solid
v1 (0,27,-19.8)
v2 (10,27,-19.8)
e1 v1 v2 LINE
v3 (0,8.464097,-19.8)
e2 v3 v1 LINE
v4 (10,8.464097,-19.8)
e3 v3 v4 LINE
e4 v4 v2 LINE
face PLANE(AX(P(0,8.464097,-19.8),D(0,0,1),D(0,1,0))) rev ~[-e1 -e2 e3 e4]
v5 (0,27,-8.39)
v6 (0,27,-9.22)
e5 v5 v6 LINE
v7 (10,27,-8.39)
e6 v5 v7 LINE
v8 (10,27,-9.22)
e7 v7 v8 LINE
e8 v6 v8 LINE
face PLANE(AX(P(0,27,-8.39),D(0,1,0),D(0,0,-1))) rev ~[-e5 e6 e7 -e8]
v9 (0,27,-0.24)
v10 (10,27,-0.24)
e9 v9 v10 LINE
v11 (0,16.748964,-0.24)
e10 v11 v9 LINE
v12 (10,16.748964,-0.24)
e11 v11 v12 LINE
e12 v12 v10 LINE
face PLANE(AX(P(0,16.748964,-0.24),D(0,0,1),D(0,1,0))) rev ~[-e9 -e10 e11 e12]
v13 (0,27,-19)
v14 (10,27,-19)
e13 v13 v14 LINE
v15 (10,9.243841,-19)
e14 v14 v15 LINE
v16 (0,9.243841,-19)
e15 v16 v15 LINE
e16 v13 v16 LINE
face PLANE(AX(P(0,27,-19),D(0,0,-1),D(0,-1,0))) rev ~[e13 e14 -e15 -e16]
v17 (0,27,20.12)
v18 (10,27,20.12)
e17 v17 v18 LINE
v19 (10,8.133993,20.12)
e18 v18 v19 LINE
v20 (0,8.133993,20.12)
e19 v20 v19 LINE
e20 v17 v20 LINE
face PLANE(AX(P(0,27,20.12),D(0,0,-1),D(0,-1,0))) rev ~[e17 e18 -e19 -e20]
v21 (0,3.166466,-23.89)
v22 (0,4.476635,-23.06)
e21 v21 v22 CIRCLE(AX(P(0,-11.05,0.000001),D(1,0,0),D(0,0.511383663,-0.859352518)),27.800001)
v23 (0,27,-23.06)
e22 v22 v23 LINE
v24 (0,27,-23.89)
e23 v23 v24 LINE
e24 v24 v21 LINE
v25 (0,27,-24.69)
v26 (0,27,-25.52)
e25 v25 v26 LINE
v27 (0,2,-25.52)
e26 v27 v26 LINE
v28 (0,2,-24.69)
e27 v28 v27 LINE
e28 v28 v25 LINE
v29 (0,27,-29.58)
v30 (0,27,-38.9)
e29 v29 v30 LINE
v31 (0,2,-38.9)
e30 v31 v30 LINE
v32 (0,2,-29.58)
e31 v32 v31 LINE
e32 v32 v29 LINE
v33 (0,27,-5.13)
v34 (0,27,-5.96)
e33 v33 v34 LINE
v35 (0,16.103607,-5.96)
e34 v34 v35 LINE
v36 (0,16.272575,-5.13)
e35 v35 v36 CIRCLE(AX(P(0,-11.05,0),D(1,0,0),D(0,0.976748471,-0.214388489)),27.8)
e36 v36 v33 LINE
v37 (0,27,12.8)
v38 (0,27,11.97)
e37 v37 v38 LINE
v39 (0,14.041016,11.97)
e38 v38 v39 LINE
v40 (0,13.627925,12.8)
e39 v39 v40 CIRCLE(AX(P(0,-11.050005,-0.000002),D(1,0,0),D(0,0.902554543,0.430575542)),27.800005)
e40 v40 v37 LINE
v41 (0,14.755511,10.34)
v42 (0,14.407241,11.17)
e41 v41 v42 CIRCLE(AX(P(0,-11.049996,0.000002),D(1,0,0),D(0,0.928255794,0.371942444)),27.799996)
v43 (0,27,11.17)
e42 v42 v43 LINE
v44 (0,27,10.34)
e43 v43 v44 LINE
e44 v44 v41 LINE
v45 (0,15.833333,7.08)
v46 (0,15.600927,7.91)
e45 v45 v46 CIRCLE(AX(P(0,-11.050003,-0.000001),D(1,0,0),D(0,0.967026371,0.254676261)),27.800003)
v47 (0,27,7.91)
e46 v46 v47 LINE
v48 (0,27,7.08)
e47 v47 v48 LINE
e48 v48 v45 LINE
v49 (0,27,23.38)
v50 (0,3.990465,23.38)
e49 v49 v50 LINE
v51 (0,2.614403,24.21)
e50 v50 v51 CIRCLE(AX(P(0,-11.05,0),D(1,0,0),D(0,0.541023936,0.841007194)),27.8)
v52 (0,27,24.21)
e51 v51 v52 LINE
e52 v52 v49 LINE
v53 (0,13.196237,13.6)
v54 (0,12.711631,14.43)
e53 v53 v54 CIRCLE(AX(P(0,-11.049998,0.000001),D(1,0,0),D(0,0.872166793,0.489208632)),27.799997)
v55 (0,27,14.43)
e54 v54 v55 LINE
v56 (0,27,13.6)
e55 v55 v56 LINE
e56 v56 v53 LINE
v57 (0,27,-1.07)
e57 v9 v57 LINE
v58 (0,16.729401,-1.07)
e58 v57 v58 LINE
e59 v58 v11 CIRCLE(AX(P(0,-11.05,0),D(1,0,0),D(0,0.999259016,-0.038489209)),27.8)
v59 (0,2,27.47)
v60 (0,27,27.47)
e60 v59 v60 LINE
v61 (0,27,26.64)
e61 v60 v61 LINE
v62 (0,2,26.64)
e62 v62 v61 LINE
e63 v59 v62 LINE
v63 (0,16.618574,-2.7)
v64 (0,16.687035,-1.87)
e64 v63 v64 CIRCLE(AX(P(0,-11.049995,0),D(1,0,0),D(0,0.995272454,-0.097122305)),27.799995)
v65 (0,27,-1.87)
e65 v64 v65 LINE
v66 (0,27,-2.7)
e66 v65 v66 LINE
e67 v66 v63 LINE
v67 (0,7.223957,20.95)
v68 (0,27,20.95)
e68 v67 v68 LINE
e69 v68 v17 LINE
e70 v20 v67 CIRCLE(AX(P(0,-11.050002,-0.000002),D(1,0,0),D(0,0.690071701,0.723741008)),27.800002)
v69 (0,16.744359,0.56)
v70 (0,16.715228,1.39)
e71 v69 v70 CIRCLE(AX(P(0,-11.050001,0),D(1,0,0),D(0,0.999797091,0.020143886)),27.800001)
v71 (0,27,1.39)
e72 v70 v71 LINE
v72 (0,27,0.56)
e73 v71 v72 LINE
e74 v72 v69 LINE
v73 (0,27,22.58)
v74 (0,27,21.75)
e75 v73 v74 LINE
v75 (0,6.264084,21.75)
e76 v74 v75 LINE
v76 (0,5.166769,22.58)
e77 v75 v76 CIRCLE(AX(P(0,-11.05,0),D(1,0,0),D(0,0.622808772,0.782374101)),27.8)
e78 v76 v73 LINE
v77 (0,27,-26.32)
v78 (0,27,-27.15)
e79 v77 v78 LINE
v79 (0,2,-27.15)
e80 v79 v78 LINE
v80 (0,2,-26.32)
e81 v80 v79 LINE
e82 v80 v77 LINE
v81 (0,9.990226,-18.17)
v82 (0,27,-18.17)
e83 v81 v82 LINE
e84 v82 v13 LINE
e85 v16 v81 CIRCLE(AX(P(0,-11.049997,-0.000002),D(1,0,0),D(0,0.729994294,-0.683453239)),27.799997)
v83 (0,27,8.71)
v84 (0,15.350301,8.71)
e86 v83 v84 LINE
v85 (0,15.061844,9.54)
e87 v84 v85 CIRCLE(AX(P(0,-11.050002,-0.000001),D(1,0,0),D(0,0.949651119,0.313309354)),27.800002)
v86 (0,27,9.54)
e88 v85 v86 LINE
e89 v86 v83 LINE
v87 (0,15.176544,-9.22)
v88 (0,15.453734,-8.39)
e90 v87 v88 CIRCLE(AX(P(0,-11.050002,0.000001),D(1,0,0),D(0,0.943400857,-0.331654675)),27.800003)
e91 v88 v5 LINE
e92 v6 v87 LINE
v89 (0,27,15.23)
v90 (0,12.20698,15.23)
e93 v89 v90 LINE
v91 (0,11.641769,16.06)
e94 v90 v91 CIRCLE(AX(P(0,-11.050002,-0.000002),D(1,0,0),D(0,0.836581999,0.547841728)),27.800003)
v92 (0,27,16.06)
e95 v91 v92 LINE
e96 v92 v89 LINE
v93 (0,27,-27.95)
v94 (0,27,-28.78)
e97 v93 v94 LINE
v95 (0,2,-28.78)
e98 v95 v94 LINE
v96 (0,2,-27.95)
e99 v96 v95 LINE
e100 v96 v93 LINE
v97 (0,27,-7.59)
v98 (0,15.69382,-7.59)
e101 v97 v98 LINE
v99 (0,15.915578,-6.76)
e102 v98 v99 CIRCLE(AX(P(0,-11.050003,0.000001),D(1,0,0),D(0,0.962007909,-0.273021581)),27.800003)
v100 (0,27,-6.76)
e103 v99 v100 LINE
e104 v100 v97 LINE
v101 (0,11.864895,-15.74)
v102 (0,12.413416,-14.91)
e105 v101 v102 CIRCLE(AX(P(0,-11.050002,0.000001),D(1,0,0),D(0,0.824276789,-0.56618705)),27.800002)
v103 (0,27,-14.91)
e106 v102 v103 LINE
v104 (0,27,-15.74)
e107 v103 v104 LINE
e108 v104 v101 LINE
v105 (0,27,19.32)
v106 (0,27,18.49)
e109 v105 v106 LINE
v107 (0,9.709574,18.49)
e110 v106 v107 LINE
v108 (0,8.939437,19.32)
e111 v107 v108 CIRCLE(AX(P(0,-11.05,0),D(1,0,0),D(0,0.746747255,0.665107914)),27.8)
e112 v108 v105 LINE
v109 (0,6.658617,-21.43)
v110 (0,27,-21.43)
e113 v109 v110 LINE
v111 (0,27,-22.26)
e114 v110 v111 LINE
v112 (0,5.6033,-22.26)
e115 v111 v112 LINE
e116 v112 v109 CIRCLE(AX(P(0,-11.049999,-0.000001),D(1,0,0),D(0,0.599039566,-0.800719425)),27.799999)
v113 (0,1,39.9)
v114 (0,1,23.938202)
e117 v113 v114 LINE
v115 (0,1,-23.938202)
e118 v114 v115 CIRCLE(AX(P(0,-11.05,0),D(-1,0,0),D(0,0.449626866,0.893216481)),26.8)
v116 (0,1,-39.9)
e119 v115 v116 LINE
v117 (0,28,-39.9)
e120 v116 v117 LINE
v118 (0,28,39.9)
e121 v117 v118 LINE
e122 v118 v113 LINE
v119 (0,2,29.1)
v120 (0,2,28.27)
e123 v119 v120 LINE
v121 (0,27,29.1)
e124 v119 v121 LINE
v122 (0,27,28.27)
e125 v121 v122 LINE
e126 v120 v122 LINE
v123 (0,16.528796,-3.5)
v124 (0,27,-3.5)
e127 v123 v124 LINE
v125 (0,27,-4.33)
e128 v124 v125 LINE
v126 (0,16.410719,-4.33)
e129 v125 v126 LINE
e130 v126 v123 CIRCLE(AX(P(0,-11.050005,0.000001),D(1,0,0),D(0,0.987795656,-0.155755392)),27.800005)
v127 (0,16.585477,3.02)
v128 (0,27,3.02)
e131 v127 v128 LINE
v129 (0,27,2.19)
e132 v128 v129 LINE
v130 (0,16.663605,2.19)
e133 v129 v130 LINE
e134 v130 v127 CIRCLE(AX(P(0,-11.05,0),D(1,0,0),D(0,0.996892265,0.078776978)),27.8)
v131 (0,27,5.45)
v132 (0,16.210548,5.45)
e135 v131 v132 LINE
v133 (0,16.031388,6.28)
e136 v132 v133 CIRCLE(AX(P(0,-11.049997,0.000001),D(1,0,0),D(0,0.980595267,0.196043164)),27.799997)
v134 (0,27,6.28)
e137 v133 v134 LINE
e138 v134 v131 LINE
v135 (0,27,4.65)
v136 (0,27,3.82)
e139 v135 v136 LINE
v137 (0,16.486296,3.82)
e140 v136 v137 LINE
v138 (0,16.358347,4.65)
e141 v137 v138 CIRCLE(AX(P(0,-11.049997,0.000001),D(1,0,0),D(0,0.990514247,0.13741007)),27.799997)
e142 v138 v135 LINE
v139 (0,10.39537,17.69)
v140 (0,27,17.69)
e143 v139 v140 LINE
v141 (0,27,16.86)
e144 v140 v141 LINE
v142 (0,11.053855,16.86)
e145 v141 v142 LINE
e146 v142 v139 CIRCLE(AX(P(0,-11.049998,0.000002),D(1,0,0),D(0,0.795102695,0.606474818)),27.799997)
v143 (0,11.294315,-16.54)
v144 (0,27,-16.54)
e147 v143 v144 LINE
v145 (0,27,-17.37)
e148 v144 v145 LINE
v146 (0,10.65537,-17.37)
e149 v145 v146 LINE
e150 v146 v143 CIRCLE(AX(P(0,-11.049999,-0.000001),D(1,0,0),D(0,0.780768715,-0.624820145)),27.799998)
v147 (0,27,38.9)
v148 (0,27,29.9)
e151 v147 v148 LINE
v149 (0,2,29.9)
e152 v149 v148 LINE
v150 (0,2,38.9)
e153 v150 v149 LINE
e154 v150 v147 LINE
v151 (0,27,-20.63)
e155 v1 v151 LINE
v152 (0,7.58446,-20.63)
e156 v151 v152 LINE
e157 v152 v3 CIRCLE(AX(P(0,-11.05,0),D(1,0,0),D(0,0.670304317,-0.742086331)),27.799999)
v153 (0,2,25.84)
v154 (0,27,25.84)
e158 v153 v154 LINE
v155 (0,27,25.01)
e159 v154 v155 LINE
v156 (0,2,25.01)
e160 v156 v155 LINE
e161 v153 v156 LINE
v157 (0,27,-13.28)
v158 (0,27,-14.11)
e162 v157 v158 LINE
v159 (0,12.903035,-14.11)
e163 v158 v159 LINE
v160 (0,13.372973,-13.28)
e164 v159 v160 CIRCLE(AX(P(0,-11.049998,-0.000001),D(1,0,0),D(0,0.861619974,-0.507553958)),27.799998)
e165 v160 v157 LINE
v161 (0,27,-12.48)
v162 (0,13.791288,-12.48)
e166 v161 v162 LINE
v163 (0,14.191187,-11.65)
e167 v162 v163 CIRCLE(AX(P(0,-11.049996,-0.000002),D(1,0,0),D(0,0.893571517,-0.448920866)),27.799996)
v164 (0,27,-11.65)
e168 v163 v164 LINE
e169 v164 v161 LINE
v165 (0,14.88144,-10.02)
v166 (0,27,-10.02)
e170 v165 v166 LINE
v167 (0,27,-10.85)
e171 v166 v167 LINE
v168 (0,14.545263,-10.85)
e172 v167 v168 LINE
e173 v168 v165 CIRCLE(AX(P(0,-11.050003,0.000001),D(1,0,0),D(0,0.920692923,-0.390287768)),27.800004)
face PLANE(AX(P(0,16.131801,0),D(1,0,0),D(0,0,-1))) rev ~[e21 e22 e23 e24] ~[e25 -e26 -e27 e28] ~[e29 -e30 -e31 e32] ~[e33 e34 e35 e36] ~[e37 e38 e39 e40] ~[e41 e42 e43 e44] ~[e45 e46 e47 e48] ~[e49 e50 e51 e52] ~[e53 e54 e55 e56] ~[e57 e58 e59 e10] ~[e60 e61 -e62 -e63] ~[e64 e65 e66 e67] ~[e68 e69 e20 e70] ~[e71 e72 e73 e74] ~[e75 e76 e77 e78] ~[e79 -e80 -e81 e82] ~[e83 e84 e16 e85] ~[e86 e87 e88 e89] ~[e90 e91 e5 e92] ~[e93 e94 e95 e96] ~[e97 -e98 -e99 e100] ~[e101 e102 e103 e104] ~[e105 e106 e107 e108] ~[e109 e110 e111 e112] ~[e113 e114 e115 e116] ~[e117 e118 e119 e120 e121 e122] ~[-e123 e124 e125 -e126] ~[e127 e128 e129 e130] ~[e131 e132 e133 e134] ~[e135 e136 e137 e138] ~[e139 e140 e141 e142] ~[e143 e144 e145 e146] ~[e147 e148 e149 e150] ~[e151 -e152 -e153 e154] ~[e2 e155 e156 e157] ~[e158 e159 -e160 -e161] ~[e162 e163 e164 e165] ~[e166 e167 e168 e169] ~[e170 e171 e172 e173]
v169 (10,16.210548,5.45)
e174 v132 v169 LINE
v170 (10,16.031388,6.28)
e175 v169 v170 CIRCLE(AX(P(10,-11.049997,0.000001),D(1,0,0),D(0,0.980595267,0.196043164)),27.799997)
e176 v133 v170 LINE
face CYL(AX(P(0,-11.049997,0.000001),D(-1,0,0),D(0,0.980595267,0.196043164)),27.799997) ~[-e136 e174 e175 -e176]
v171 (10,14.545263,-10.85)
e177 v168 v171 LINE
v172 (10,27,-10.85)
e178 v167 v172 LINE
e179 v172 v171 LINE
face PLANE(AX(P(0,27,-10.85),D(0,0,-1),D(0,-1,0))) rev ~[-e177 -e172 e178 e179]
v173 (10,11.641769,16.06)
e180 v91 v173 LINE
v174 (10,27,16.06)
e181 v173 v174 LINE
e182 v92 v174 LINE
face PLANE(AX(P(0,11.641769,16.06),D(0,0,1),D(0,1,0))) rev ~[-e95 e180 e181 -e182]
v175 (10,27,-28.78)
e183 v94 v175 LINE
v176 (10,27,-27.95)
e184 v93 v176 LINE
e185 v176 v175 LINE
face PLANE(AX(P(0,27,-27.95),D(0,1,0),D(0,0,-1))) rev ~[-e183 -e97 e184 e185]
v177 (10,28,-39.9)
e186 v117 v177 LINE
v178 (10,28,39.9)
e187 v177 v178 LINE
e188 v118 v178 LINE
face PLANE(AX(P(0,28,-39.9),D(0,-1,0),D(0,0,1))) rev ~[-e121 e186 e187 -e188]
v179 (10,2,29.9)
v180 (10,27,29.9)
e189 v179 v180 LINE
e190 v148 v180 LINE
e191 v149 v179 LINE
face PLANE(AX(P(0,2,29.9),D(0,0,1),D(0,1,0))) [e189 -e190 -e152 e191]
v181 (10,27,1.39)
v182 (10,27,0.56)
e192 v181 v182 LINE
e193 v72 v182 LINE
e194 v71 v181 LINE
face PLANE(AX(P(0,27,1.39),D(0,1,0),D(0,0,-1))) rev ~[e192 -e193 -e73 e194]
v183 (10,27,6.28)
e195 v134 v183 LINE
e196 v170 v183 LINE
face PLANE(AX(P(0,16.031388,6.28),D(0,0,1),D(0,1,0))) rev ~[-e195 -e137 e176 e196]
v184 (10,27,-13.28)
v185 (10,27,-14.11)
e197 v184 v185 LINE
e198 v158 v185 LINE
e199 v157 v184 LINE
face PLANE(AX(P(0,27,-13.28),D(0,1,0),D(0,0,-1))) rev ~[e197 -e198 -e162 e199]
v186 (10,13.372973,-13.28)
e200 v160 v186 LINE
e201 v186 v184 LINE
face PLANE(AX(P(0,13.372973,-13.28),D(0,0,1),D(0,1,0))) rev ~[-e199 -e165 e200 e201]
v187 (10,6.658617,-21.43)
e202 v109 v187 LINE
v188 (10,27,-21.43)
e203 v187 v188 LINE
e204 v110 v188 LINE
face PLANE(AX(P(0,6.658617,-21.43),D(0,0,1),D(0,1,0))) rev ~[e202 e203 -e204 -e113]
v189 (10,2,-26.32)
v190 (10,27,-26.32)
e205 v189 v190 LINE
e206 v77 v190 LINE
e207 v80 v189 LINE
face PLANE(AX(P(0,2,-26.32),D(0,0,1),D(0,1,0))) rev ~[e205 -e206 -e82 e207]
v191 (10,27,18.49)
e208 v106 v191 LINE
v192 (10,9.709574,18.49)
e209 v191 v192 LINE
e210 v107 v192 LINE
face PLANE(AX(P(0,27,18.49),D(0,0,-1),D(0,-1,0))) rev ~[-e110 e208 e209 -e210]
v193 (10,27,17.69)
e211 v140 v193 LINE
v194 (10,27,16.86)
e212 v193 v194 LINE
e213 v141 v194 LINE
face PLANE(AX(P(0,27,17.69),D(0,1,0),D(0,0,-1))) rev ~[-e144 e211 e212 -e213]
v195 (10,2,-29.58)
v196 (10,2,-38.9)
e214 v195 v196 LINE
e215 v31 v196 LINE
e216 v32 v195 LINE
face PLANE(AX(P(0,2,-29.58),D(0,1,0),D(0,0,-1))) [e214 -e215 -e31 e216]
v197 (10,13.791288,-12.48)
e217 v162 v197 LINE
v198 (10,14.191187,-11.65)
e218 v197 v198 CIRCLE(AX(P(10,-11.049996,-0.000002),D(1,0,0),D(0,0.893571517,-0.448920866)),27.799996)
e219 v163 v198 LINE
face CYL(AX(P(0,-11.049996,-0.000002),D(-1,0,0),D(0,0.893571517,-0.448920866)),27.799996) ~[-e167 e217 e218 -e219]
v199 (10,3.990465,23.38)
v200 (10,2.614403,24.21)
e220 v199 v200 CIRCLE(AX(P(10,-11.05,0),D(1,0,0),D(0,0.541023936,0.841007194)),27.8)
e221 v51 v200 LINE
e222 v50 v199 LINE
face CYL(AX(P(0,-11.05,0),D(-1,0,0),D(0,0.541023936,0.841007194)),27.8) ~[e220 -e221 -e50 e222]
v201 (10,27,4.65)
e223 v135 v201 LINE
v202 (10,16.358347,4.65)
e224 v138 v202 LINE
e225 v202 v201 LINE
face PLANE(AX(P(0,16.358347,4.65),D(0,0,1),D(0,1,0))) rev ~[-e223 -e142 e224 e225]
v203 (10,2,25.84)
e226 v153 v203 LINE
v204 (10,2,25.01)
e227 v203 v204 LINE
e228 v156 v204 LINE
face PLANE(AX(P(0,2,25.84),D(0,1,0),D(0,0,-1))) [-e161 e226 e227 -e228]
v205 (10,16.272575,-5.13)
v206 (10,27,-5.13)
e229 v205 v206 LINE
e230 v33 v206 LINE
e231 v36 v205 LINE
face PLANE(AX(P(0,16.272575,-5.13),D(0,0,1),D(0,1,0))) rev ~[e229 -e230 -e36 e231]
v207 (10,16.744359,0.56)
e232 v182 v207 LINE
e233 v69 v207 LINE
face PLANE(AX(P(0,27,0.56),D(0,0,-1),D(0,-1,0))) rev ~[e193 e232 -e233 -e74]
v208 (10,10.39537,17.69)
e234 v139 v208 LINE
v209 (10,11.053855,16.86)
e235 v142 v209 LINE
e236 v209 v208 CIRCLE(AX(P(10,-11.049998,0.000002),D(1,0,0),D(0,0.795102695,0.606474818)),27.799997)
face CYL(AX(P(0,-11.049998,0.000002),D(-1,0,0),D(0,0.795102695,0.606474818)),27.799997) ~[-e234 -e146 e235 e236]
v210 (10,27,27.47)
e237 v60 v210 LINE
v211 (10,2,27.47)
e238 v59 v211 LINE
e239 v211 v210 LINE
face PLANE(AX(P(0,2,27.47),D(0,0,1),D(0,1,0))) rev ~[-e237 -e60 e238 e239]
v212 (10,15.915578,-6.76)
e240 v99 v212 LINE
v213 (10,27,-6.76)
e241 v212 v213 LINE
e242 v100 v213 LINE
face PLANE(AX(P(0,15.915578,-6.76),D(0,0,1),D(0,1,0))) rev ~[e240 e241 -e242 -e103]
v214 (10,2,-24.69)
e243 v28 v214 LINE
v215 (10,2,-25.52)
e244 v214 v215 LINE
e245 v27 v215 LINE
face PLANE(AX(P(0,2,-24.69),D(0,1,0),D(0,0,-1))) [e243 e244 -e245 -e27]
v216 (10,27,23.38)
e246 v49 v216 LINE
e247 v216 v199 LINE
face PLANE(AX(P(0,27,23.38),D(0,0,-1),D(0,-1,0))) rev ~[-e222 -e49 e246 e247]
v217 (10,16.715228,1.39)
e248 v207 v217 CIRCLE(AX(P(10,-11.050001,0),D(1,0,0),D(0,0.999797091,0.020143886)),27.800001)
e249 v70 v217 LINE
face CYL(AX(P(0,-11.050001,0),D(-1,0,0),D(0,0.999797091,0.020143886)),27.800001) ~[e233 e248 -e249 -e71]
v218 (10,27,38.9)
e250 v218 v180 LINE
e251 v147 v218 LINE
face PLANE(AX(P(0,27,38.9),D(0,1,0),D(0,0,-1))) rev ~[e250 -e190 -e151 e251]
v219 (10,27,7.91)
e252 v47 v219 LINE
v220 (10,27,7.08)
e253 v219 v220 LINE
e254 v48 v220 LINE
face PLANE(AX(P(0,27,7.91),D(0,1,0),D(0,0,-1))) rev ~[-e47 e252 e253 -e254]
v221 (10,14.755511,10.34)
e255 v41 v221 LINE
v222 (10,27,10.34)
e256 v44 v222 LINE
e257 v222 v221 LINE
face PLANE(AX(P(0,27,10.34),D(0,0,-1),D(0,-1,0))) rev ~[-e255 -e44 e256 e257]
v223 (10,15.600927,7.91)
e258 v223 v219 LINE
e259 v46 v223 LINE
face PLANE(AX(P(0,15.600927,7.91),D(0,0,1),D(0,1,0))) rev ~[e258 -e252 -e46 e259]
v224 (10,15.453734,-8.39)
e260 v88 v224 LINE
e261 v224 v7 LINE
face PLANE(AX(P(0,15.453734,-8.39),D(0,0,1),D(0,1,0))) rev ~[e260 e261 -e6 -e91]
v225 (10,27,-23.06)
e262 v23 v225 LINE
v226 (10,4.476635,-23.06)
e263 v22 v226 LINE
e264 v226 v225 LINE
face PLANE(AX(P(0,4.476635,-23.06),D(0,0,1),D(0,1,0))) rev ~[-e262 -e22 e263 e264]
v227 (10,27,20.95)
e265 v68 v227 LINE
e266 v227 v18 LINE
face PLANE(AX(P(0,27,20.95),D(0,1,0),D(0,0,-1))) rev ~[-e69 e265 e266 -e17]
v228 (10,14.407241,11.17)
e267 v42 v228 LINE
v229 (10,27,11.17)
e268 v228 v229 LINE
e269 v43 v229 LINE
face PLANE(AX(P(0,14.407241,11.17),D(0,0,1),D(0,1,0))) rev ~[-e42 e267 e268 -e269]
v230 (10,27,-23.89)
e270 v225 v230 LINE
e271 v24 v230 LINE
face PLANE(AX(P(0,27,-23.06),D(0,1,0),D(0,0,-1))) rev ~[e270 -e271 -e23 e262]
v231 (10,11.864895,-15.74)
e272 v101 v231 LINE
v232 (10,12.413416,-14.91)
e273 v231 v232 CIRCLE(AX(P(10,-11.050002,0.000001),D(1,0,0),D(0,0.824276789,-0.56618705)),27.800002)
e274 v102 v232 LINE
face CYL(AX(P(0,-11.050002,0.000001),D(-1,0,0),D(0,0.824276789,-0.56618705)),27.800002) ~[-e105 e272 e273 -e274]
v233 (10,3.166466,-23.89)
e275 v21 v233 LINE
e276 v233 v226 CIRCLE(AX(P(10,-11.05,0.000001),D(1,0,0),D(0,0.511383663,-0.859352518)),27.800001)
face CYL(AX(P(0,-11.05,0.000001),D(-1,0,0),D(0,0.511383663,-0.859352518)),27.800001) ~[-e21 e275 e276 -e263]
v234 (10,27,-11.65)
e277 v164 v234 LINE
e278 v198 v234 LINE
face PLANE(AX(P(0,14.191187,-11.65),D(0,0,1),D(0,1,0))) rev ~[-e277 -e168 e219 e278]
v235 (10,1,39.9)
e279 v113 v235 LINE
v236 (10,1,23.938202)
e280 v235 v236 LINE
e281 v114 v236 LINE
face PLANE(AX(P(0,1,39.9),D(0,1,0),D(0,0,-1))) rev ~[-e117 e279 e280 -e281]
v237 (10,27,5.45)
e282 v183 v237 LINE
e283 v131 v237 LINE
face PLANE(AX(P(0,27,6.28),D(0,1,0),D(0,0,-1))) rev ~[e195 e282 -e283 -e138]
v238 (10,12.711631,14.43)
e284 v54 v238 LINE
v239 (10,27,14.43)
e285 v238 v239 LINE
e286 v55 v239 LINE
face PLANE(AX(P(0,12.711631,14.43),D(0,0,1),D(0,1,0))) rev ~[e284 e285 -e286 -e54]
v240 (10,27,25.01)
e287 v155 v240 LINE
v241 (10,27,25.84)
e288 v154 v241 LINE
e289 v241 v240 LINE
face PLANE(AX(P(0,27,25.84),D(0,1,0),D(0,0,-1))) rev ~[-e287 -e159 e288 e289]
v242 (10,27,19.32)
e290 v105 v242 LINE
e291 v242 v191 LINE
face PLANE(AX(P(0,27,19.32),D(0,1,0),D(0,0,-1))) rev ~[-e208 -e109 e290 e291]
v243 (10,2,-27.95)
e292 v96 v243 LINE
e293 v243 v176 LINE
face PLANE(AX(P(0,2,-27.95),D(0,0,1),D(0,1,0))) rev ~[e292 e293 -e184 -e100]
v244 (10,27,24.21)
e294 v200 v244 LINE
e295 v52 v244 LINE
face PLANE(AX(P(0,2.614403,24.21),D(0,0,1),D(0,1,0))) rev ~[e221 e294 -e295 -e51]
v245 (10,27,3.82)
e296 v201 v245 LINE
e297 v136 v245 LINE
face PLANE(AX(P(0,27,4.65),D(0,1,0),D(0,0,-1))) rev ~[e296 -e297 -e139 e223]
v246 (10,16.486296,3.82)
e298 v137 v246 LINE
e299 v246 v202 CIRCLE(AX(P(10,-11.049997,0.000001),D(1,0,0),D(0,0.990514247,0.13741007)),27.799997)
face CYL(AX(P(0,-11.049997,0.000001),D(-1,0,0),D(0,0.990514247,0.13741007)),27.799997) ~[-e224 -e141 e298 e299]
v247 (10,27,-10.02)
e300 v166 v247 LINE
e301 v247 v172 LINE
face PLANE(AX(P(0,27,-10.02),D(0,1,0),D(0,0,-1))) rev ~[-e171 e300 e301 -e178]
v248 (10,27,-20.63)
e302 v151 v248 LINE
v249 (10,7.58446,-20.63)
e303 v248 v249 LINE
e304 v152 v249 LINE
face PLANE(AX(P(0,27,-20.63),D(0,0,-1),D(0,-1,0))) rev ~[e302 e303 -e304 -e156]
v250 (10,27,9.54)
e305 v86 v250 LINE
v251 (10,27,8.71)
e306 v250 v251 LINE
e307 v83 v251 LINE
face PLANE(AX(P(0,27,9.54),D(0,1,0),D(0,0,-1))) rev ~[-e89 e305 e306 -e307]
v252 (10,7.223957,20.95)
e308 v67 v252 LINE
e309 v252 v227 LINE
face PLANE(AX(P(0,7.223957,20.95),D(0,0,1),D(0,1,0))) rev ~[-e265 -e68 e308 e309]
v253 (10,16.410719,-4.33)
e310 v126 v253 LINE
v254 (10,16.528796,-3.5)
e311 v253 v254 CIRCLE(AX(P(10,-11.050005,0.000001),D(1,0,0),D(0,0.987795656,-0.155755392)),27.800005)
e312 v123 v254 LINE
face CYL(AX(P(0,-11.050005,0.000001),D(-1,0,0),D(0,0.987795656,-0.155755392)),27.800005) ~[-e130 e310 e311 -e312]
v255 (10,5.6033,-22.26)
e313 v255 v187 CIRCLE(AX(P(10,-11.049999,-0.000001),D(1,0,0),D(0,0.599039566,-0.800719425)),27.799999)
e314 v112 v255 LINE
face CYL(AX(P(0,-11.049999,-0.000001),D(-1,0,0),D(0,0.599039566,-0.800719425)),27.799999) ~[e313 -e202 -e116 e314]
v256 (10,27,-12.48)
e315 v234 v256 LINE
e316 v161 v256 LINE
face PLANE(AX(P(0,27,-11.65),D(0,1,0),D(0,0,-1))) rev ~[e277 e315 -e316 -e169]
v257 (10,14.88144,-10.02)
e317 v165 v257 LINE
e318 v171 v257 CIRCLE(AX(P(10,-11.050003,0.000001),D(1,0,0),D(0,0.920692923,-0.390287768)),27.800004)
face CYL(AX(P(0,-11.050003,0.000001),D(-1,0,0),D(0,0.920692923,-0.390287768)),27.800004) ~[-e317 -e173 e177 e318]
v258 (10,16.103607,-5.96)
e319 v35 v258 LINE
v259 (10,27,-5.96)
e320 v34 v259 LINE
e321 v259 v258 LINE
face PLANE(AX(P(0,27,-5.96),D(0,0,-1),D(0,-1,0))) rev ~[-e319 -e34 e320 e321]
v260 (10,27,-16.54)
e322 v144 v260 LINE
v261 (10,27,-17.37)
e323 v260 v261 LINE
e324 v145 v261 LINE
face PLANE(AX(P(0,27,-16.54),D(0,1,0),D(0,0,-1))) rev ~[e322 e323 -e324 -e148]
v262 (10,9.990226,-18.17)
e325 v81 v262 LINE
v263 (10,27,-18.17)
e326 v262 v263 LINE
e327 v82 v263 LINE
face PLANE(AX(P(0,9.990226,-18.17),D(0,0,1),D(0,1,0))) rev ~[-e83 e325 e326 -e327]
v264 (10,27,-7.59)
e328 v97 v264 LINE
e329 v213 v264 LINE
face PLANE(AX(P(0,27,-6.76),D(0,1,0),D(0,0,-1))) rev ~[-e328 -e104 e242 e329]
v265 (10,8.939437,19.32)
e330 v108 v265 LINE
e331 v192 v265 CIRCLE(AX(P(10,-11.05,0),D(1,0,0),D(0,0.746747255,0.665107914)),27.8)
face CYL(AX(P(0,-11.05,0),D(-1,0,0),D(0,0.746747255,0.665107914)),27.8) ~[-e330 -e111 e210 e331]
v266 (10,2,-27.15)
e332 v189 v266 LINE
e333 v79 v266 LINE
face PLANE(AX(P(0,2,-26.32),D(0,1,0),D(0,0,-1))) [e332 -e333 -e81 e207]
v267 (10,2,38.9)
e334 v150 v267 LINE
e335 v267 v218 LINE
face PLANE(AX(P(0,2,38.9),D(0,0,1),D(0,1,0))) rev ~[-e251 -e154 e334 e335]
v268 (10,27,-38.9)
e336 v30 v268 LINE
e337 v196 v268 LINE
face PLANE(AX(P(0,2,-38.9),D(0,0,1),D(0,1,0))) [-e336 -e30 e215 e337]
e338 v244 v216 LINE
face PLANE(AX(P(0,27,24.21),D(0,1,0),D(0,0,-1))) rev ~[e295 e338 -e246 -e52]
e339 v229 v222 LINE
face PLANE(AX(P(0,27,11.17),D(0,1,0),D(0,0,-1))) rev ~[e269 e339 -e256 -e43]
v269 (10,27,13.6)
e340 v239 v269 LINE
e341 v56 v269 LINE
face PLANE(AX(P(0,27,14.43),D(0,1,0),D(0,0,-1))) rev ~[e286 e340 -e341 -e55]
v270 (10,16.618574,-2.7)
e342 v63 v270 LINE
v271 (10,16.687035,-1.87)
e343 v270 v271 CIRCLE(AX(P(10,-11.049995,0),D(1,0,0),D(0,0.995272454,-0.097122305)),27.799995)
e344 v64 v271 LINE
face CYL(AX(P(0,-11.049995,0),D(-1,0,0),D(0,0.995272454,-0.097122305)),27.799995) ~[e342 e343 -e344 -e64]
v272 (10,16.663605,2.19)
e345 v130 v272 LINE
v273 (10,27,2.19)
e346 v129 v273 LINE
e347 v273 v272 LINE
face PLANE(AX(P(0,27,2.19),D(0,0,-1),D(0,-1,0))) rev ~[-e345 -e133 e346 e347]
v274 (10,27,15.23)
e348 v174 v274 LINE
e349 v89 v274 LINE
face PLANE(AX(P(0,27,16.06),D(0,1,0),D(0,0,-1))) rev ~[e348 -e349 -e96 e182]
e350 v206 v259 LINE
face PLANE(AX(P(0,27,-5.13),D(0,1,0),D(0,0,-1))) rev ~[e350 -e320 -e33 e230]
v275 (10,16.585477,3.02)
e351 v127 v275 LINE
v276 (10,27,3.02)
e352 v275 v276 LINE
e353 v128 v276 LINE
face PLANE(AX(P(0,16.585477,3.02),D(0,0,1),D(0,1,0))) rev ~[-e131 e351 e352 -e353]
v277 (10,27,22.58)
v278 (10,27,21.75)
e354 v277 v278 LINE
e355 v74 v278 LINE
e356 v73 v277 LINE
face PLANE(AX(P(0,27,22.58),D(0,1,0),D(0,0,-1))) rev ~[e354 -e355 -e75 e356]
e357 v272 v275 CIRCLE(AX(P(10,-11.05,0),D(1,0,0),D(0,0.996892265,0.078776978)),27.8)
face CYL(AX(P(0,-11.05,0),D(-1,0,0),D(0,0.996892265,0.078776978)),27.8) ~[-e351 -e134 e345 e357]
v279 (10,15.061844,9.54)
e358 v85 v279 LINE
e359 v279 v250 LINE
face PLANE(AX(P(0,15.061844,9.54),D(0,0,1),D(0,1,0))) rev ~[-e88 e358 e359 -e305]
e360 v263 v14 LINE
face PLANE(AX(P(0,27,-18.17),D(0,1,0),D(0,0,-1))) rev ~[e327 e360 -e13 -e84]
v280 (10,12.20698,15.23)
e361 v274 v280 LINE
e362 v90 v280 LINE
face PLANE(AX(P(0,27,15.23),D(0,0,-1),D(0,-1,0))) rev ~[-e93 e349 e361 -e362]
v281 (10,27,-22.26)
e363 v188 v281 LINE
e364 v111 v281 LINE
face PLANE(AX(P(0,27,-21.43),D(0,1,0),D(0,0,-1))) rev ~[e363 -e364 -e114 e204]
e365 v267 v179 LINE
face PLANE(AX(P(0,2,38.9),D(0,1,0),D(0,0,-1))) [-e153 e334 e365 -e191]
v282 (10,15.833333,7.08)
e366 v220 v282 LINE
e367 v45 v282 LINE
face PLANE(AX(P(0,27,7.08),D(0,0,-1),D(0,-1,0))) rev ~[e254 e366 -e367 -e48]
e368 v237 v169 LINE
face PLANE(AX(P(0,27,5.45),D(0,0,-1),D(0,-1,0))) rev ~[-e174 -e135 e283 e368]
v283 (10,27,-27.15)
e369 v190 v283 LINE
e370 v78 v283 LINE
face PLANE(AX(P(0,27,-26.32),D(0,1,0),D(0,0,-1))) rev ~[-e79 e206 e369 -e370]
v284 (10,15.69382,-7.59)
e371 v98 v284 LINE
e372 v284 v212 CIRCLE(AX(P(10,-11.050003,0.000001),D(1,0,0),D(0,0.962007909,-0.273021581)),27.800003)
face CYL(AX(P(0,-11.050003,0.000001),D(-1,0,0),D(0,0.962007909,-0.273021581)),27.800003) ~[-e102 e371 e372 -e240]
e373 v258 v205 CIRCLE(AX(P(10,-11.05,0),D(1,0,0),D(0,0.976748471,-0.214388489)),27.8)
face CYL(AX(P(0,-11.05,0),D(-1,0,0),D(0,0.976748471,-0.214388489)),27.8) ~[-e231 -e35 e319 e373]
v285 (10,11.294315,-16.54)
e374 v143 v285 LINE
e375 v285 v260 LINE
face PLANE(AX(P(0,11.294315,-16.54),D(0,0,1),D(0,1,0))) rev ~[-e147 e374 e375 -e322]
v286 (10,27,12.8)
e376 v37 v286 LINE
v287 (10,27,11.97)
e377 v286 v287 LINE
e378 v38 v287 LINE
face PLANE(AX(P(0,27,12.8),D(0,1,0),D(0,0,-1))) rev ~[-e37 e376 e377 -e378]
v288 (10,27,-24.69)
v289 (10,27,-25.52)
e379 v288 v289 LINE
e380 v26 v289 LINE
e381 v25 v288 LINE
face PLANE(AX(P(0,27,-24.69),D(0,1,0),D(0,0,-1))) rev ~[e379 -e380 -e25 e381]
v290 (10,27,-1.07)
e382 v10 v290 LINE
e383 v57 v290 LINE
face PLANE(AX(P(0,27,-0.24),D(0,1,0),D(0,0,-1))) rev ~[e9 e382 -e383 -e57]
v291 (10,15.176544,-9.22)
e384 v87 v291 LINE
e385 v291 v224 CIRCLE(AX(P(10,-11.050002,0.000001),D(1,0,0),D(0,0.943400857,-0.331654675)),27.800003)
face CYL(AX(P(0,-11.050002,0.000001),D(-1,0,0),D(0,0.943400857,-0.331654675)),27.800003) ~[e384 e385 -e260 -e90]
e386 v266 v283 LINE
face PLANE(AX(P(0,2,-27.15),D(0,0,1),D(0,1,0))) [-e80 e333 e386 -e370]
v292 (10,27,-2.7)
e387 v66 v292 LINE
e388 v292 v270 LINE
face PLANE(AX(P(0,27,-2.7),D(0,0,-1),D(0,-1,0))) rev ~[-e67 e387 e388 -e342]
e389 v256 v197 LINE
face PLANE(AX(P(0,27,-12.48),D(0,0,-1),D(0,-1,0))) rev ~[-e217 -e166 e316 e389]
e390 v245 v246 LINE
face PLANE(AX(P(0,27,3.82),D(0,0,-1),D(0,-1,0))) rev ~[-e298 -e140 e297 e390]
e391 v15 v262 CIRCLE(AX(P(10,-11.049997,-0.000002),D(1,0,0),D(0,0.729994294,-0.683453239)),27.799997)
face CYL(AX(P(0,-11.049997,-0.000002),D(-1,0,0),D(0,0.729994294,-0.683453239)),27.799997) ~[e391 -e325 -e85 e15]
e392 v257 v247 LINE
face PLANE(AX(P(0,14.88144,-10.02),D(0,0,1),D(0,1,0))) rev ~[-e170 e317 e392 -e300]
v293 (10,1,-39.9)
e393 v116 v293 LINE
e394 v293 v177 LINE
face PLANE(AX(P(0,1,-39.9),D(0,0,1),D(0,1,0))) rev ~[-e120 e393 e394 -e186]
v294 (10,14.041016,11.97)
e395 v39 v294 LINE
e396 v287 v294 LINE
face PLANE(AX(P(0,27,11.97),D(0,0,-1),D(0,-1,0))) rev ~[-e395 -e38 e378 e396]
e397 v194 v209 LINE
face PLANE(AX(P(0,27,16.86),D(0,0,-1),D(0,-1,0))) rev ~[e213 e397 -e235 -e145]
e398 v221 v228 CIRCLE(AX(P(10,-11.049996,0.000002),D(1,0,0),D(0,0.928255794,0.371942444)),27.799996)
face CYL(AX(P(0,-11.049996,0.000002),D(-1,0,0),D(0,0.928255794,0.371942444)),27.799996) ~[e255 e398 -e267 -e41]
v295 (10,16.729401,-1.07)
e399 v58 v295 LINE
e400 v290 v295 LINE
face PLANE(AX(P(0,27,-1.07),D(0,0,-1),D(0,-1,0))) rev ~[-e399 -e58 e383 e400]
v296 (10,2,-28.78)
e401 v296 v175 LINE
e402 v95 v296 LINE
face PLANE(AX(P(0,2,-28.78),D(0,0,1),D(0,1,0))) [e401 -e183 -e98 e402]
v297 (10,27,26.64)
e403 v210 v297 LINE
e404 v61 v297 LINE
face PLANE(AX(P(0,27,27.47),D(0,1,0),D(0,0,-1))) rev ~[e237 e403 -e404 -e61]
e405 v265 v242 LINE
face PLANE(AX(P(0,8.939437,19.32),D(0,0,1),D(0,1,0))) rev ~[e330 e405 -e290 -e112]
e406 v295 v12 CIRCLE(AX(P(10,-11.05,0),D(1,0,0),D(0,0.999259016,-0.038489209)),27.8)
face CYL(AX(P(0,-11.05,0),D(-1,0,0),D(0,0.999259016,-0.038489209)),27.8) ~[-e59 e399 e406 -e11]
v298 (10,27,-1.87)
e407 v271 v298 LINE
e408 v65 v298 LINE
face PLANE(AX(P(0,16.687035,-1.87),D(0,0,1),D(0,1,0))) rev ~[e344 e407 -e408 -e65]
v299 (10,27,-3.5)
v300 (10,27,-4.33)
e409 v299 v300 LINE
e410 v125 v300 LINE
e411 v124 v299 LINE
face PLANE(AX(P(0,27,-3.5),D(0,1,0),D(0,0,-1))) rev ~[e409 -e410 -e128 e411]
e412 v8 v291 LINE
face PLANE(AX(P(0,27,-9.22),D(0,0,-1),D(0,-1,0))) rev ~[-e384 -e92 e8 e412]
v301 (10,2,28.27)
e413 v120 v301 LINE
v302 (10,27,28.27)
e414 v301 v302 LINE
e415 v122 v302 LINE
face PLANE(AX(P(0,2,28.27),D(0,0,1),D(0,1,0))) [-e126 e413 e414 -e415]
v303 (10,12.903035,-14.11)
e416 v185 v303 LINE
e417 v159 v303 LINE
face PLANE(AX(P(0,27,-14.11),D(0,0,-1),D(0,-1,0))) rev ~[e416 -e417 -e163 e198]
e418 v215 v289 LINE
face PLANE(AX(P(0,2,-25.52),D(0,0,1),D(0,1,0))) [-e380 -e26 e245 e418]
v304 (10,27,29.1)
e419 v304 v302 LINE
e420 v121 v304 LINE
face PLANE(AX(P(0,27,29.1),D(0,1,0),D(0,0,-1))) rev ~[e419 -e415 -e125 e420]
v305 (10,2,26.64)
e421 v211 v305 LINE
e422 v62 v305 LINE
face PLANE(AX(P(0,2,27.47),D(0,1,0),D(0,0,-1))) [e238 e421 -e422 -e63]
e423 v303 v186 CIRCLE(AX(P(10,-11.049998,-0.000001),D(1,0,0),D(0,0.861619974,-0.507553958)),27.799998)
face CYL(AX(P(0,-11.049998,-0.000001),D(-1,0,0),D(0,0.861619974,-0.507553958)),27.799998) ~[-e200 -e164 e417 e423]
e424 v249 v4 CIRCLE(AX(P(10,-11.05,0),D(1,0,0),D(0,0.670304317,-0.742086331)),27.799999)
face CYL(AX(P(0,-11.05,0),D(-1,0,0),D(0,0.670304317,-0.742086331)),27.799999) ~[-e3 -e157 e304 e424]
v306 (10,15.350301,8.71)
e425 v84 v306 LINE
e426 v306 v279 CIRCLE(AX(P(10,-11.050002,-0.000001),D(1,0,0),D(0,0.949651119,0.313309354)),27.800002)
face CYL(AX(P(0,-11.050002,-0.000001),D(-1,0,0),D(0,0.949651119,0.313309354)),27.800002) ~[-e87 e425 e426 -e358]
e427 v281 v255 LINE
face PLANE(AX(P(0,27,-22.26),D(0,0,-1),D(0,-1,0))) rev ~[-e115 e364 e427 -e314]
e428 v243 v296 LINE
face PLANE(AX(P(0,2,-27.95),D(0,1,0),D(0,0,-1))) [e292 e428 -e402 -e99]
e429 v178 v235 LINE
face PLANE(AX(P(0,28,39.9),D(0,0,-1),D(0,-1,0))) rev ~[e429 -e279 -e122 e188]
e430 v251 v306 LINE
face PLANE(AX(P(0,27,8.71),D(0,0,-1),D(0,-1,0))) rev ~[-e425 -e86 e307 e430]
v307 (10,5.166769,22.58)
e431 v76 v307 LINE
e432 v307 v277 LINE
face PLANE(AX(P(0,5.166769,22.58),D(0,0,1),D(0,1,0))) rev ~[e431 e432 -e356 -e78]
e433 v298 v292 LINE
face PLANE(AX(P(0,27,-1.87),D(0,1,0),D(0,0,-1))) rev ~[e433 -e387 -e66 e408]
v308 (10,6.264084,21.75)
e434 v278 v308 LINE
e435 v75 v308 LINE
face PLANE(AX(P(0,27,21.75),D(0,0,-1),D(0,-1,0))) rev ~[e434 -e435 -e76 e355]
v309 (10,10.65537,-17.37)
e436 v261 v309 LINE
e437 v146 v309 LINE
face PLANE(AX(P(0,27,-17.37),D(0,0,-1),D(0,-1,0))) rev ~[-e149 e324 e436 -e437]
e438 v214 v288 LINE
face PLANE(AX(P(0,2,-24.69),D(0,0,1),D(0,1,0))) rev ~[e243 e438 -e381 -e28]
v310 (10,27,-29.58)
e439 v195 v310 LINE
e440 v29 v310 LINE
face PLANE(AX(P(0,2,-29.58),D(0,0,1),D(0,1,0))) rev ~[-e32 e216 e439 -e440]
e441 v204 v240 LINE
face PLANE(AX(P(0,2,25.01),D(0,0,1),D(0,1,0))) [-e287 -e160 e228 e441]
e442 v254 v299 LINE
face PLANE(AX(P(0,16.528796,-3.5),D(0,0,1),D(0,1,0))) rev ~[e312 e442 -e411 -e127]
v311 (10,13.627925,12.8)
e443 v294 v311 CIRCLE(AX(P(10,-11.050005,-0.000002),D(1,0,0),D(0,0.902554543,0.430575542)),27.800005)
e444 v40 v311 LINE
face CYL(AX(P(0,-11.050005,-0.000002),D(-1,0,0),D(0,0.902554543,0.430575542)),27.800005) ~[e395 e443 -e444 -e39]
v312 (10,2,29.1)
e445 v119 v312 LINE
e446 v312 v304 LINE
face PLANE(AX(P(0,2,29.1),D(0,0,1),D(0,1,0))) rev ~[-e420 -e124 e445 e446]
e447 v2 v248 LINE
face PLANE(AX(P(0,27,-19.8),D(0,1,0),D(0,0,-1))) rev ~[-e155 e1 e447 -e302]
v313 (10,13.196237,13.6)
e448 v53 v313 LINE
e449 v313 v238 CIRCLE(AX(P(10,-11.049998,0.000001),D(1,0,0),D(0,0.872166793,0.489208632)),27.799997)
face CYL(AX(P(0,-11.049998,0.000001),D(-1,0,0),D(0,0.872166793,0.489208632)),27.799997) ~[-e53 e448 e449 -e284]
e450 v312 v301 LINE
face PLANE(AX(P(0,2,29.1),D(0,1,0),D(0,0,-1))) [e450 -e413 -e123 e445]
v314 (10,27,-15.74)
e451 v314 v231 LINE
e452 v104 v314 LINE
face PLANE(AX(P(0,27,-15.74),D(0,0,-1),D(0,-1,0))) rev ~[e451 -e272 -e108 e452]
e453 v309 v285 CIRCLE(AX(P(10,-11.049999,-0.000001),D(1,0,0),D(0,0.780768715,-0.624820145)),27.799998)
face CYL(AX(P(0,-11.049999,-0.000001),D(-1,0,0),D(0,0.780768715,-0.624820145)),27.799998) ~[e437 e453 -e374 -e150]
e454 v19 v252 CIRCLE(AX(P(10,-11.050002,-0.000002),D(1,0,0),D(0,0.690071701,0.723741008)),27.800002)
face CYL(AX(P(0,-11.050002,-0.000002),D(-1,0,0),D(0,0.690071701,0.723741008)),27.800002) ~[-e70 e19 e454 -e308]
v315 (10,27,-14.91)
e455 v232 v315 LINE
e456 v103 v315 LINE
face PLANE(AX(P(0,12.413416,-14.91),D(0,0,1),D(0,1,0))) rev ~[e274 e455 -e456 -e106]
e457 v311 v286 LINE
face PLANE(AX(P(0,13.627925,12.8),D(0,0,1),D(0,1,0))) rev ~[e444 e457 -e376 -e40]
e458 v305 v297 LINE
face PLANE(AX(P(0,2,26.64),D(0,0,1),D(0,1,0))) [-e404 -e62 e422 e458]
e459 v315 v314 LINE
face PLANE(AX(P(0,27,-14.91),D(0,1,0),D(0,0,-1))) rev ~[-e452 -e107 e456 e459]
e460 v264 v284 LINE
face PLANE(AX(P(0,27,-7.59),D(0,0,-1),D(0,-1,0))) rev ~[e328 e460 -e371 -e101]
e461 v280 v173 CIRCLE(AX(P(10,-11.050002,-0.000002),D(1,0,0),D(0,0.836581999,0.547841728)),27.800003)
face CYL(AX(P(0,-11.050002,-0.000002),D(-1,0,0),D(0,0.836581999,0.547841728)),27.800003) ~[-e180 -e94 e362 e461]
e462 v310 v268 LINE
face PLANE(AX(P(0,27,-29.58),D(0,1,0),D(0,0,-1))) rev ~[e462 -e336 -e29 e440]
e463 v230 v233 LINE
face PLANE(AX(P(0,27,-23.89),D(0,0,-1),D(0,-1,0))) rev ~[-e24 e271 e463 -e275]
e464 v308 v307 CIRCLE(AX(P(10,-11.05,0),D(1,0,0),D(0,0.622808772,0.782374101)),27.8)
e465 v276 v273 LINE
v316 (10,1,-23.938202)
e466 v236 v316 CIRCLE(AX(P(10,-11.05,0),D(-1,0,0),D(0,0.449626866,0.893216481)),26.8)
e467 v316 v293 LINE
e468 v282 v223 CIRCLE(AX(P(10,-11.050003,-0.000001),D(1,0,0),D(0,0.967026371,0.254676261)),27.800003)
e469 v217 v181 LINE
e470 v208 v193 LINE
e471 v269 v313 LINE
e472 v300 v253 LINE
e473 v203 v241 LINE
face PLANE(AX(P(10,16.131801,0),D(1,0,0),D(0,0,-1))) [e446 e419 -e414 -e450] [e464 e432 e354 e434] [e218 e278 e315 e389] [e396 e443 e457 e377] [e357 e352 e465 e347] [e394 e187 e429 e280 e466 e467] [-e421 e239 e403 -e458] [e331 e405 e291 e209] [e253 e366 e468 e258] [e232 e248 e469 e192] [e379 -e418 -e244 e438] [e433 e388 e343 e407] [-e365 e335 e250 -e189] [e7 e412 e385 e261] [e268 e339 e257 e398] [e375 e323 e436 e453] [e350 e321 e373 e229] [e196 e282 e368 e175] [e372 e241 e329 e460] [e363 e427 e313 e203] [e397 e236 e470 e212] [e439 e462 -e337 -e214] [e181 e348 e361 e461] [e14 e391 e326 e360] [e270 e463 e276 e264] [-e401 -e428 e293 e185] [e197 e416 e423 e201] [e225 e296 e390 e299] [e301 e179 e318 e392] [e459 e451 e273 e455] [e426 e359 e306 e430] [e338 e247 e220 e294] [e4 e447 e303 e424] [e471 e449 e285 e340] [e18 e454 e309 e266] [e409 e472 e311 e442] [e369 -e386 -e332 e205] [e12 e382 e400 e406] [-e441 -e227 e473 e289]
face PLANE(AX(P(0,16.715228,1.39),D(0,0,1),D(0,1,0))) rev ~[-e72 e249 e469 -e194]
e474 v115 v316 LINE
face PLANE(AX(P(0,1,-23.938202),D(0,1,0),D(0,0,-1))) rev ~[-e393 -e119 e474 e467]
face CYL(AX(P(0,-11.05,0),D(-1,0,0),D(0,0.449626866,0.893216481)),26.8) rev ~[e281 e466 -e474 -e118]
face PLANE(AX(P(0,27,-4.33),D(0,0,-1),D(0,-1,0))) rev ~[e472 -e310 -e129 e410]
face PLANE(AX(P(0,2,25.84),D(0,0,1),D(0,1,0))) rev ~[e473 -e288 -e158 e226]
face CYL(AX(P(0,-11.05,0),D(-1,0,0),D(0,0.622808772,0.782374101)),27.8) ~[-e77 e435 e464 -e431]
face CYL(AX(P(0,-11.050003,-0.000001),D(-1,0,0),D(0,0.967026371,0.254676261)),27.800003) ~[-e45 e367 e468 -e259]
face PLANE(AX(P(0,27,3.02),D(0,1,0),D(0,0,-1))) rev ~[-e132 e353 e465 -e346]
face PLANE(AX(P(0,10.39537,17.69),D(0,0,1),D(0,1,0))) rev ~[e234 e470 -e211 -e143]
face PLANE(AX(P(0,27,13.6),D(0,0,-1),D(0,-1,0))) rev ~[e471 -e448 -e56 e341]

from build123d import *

# Parameters (mm, degrees)
SKETCH1_W           = 9
SKETCH1_H           = 25
SKETCH1_W_2         = 0.83
SKETCH1_W_3         = 9.32
BOSS_EXTRUDE1_DEPTH = 10


with BuildPart() as part:
    # Sketch1 → Boss-Extrude1 (new body)
    with BuildSketch(Plane(origin=(0, 0, 0), x_dir=(0, 0, -1), z_dir=(1, 0, 0))):
        with BuildLine():
            Line((23.938201687, 1), (39.9, 1))
            Line((39.9, 1), (39.9, 28))
            Line((39.9, 28), (-39.9, 28))
            Line((-39.9, 28), (-39.9, 1))
            Line((-39.9, 1), (-23.938201687, 1))
            ThreePointArc((-23.938201687, 1), (0, 15.75), (23.938201687, 1))
        make_face()
        with Locations((-34.4, 14.5)):
            Rectangle(SKETCH1_W, SKETCH1_H, mode=Mode.SUBTRACT)
        with Locations((-28.685, 14.5)):
            Rectangle(SKETCH1_W_2, SKETCH1_H, mode=Mode.SUBTRACT)
        with Locations((-27.055, 14.5)):
            Rectangle(SKETCH1_W_2, SKETCH1_H, mode=Mode.SUBTRACT)
        with Locations((-25.425, 14.5)):
            Rectangle(SKETCH1_W_2, SKETCH1_H, mode=Mode.SUBTRACT)
        with BuildLine():
            Line((-24.21, 27), (-23.38, 27))
            Line((-23.38, 27), (-23.38, 3.990465418))
            ThreePointArc((-23.38, 3.990465418), (-23.80494512, 3.308432638), (-24.21, 2.614402658))
            Line((-24.21, 2.614402658), (-24.21, 27))
        make_face(mode=Mode.SUBTRACT)
        with BuildLine():
            Line((-22.58, 27), (-21.75, 27))
            Line((-21.75, 27), (-21.75, 6.264083863))
            ThreePointArc((-21.75, 6.264083863), (-22.171789507, 5.720562008), (-22.58, 5.166769099))
            Line((-22.58, 5.166769099), (-22.58, 27))
        make_face(mode=Mode.SUBTRACT)
        with BuildLine():
            Line((-20.95, 27), (-20.12, 27))
            Line((-20.12, 27), (-20.12, 8.133993328))
            ThreePointArc((-20.12, 8.133993328), (-20.540040569, 7.683572361), (-20.95, 7.223956879))
            Line((-20.95, 7.223956879), (-20.95, 27))
        make_face(mode=Mode.SUBTRACT)
        with BuildLine():
            Line((-19.32, 27), (-18.49, 27))
            Line((-18.49, 27), (-18.49, 9.709573695))
            ThreePointArc((-18.49, 9.709573695), (-18.908921242, 9.328731498), (-19.32, 8.939437211))
            Line((-19.32, 8.939437211), (-19.32, 27))
        make_face(mode=Mode.SUBTRACT)
        with BuildLine():
            Line((-17.69, 27), (-16.86, 27))
            Line((-16.86, 27), (-16.86, 11.053854867))
            ThreePointArc((-16.86, 11.053854867), (-17.278137213, 10.72856686), (-17.69, 10.39537013))
            Line((-17.69, 10.39537013), (-17.69, 27))
        make_face(mode=Mode.SUBTRACT)
        with BuildLine():
            Line((-16.06, 27), (-15.23, 27))
            Line((-15.23, 27), (-15.23, 12.206979598))
            ThreePointArc((-15.23, 12.206979598), (-15.647552225, 11.928122407), (-16.06, 11.641769433))
            Line((-16.06, 11.641769433), (-16.06, 27))
        make_face(mode=Mode.SUBTRACT)
        with BuildLine():
            Line((-14.43, 27), (-13.6, 27))
            Line((-13.6, 27), (-13.6, 13.196236821))
            ThreePointArc((-13.6, 13.196236821), (-14.017094411, 12.957520994), (-14.43, 12.711630836))
            Line((-14.43, 12.711630836), (-14.43, 27))
        make_face(mode=Mode.SUBTRACT)
        with BuildLine():
            Line((-12.8, 27), (-11.97, 27))
            Line((-11.97, 27), (-11.97, 14.041016321))
            ThreePointArc((-11.97, 14.041016321), (-12.386722167, 13.83793109), (-12.8, 13.627925359))
            Line((-12.8, 13.627925359), (-12.8, 27))
        make_face(mode=Mode.SUBTRACT)
        with BuildLine():
            Line((-11.17, 27), (-10.34, 27))
            Line((-10.34, 27), (-10.34, 14.755511039))
            ThreePointArc((-10.34, 14.755511039), (-10.756409627, 14.584735262), (-11.17, 14.40724062))
            Line((-11.17, 14.40724062), (-11.17, 27))
        make_face(mode=Mode.SUBTRACT)
        with BuildLine():
            Line((-9.54, 27), (-8.71, 27))
            Line((-8.71, 27), (-8.71, 15.350301135))
            ThreePointArc((-8.71, 15.350301135), (-9.126139757, 15.209352108), (-9.54, 15.061844056))
            Line((-9.54, 15.061844056), (-9.54, 27))
        make_face(mode=Mode.SUBTRACT)
        with BuildLine():
            Line((-7.91, 27), (-7.08, 27))
            Line((-7.08, 27), (-7.08, 15.833333127))
            ThreePointArc((-7.08, 15.833333127), (-7.495900758, 15.720346875), (-7.91, 15.600926813))
            Line((-7.91, 15.600926813), (-7.91, 27))
        make_face(mode=Mode.SUBTRACT)
        with BuildLine():
            Line((-6.28, 27), (-5.45, 27))
            Line((-5.45, 27), (-5.45, 16.210548417))
            ThreePointArc((-5.45, 16.210548417), (-5.865684067, 16.124137529), (-6.28, 16.031388443))
            Line((-6.28, 16.031388443), (-6.28, 27))
        make_face(mode=Mode.SUBTRACT)
        with BuildLine():
            Line((-4.65, 27), (-3.82, 27))
            Line((-3.82, 27), (-3.82, 16.486296047))
            ThreePointArc((-3.82, 16.486296047), (-4.235483175, 16.425455998), (-4.65, 16.358347269))
            Line((-4.65, 16.358347269), (-4.65, 27))
        make_face(mode=Mode.SUBTRACT)
        with BuildLine():
            Line((-3.02, 27), (-2.19, 27))
            Line((-2.19, 27), (-2.19, 16.663604962))
            ThreePointArc((-2.19, 16.663604962), (-2.605292879, 16.62765252), (-3.02, 16.585477199))
            Line((-3.02, 16.585477199), (-3.02, 27))
        make_face(mode=Mode.SUBTRACT)
        with BuildLine():
            Line((-1.39, 27), (-0.56, 27))
            Line((-0.56, 27), (-0.56, 16.74435914))
            ThreePointArc((-0.56, 16.74435914), (-0.97510879, 16.732893349), (-1.39, 16.715228254))
            Line((-1.39, 16.715228254), (-1.39, 27))
        make_face(mode=Mode.SUBTRACT)
        with BuildLine():
            Line((0.24, 27), (1.07, 27))
            Line((1.07, 27), (1.07, 16.729400641))
            ThreePointArc((1.07, 16.729400641), (0.655073035, 16.74228093), (0.24, 16.748964009))
            Line((0.24, 16.748964009), (0.24, 27))
        make_face(mode=Mode.SUBTRACT)
        with BuildLine():
            Line((1.87, 27), (2.7, 27))
            Line((2.7, 27), (2.7, 16.618574231))
            ThreePointArc((2.7, 16.618574231), (2.285256378, 16.655912786), (1.87, 16.687034809))
            Line((1.87, 16.687034809), (1.87, 27))
        make_face(mode=Mode.SUBTRACT)
        with BuildLine():
            Line((3.5, 27), (4.33, 27))
            Line((4.33, 27), (4.33, 16.410719219))
            ThreePointArc((4.33, 16.410719219), (3.915445127, 16.472886648), (3.5, 16.528796203))
            Line((3.5, 16.528796203), (3.5, 27))
        make_face(mode=Mode.SUBTRACT)
        with BuildLine():
            Line((5.13, 27), (5.96, 27))
            Line((5.96, 27), (5.96, 16.103607495))
            ThreePointArc((5.96, 16.103607495), (5.54564356, 16.191252495), (5.13, 16.272574915))
            Line((5.13, 16.272574915), (5.13, 27))
        make_face(mode=Mode.SUBTRACT)
        with BuildLine():
            Line((6.76, 27), (7.59, 27))
            Line((7.59, 27), (7.59, 15.693819847))
            ThreePointArc((7.59, 15.693819847), (7.175856686, 15.807905369), (6.76, 15.915578058))
            Line((6.76, 15.915578058), (6.76, 27))
        make_face(mode=Mode.SUBTRACT)
        with BuildLine():
            Line((8.39, 27), (9.22, 27))
            Line((9.22, 27), (9.22, 15.176543806))
            ThreePointArc((9.22, 15.176543806), (8.806090708, 15.3184047), (8.39, 15.453733699))
            Line((8.39, 15.453733699), (8.39, 27))
        make_face(mode=Mode.SUBTRACT)
        with BuildLine():
            Line((10.02, 27), (10.85, 27))
            Line((10.85, 27), (10.85, 14.545263234))
            ThreePointArc((10.85, 14.545263234), (10.43635371, 14.71669403), (10.02, 14.881440377))
            Line((10.02, 14.881440377), (10.02, 27))
        make_face(mode=Mode.SUBTRACT)
        with BuildLine():
            Line((11.65, 27), (12.48, 27))
            Line((12.48, 27), (12.48, 13.791288211))
            ThreePointArc((12.48, 13.791288211), (12.066656732, 13.994675988), (11.65, 14.191186581))
            Line((11.65, 14.191186581), (11.65, 27))
        make_face(mode=Mode.SUBTRACT)
        with BuildLine():
            Line((13.28, 27), (14.11, 27))
            Line((14.11, 27), (14.11, 12.903035298))
            ThreePointArc((14.11, 12.903035298), (13.697015562, 13.141563916), (13.28, 13.372972792))
            Line((13.28, 13.372972792), (13.28, 27))
        make_face(mode=Mode.SUBTRACT)
        with BuildLine():
            Line((14.91, 27), (15.74, 27))
            Line((15.74, 27), (15.74, 11.864894719))
            ThreePointArc((15.74, 11.864894719), (15.327453929, 12.142868646), (14.91, 12.413416205))
            Line((14.91, 12.413416205), (14.91, 27))
        make_face(mode=Mode.SUBTRACT)
        with BuildLine():
            Line((16.54, 27), (17.37, 27))
            Line((17.37, 27), (17.37, 10.655370303))
            ThreePointArc((17.37, 10.655370303), (16.958009538, 10.978751951), (16.54, 11.294314713))
            Line((16.54, 11.294314713), (16.54, 27))
        make_face(mode=Mode.SUBTRACT)
        with BuildLine():
            Line((18.17, 27), (19, 27))
            Line((19, 27), (19, 9.24384143))
            ThreePointArc((19, 9.24384143), (18.588746526, 9.621199835), (18.17, 9.990225759))
            Line((18.17, 9.990225759), (18.17, 27))
        make_face(mode=Mode.SUBTRACT)
        with BuildLine():
            Line((19.8, 27), (20.63, 27))
            Line((20.63, 27), (20.63, 7.584460014))
            ThreePointArc((20.63, 7.584460014), (20.219784013, 8.028792794), (19.8, 8.464097468))
            Line((19.8, 8.464097468), (19.8, 27))
        make_face(mode=Mode.SUBTRACT)
        with BuildLine():
            Line((21.43, 27), (22.26, 27))
            Line((22.26, 27), (22.26, 5.603299973))
            ThreePointArc((22.26, 5.603299973), (21.851371771, 6.135969619), (21.43, 6.658616547))
            Line((21.43, 6.658616547), (21.43, 27))
        make_face(mode=Mode.SUBTRACT)
        with BuildLine():
            Line((23.06, 27), (23.89, 27))
            Line((23.89, 27), (23.89, 3.166465806))
            ThreePointArc((23.89, 3.166465806), (23.484138497, 3.827339784), (23.06, 4.47663518))
            Line((23.06, 4.47663518), (23.06, 27))
        make_face(mode=Mode.SUBTRACT)
        with Locations((25.105, 14.5)):
            Rectangle(SKETCH1_W_2, SKETCH1_H, mode=Mode.SUBTRACT)
        with Locations((26.735, 14.5)):
            Rectangle(SKETCH1_W_2, SKETCH1_H, mode=Mode.SUBTRACT)
        with Locations((28.365, 14.5)):
            Rectangle(SKETCH1_W_2, SKETCH1_H, mode=Mode.SUBTRACT)
        with Locations((34.24, 14.5)):
            Rectangle(SKETCH1_W_3, SKETCH1_H, mode=Mode.SUBTRACT)
    extrude(amount=BOSS_EXTRUDE1_DEPTH)


solid = part.part
